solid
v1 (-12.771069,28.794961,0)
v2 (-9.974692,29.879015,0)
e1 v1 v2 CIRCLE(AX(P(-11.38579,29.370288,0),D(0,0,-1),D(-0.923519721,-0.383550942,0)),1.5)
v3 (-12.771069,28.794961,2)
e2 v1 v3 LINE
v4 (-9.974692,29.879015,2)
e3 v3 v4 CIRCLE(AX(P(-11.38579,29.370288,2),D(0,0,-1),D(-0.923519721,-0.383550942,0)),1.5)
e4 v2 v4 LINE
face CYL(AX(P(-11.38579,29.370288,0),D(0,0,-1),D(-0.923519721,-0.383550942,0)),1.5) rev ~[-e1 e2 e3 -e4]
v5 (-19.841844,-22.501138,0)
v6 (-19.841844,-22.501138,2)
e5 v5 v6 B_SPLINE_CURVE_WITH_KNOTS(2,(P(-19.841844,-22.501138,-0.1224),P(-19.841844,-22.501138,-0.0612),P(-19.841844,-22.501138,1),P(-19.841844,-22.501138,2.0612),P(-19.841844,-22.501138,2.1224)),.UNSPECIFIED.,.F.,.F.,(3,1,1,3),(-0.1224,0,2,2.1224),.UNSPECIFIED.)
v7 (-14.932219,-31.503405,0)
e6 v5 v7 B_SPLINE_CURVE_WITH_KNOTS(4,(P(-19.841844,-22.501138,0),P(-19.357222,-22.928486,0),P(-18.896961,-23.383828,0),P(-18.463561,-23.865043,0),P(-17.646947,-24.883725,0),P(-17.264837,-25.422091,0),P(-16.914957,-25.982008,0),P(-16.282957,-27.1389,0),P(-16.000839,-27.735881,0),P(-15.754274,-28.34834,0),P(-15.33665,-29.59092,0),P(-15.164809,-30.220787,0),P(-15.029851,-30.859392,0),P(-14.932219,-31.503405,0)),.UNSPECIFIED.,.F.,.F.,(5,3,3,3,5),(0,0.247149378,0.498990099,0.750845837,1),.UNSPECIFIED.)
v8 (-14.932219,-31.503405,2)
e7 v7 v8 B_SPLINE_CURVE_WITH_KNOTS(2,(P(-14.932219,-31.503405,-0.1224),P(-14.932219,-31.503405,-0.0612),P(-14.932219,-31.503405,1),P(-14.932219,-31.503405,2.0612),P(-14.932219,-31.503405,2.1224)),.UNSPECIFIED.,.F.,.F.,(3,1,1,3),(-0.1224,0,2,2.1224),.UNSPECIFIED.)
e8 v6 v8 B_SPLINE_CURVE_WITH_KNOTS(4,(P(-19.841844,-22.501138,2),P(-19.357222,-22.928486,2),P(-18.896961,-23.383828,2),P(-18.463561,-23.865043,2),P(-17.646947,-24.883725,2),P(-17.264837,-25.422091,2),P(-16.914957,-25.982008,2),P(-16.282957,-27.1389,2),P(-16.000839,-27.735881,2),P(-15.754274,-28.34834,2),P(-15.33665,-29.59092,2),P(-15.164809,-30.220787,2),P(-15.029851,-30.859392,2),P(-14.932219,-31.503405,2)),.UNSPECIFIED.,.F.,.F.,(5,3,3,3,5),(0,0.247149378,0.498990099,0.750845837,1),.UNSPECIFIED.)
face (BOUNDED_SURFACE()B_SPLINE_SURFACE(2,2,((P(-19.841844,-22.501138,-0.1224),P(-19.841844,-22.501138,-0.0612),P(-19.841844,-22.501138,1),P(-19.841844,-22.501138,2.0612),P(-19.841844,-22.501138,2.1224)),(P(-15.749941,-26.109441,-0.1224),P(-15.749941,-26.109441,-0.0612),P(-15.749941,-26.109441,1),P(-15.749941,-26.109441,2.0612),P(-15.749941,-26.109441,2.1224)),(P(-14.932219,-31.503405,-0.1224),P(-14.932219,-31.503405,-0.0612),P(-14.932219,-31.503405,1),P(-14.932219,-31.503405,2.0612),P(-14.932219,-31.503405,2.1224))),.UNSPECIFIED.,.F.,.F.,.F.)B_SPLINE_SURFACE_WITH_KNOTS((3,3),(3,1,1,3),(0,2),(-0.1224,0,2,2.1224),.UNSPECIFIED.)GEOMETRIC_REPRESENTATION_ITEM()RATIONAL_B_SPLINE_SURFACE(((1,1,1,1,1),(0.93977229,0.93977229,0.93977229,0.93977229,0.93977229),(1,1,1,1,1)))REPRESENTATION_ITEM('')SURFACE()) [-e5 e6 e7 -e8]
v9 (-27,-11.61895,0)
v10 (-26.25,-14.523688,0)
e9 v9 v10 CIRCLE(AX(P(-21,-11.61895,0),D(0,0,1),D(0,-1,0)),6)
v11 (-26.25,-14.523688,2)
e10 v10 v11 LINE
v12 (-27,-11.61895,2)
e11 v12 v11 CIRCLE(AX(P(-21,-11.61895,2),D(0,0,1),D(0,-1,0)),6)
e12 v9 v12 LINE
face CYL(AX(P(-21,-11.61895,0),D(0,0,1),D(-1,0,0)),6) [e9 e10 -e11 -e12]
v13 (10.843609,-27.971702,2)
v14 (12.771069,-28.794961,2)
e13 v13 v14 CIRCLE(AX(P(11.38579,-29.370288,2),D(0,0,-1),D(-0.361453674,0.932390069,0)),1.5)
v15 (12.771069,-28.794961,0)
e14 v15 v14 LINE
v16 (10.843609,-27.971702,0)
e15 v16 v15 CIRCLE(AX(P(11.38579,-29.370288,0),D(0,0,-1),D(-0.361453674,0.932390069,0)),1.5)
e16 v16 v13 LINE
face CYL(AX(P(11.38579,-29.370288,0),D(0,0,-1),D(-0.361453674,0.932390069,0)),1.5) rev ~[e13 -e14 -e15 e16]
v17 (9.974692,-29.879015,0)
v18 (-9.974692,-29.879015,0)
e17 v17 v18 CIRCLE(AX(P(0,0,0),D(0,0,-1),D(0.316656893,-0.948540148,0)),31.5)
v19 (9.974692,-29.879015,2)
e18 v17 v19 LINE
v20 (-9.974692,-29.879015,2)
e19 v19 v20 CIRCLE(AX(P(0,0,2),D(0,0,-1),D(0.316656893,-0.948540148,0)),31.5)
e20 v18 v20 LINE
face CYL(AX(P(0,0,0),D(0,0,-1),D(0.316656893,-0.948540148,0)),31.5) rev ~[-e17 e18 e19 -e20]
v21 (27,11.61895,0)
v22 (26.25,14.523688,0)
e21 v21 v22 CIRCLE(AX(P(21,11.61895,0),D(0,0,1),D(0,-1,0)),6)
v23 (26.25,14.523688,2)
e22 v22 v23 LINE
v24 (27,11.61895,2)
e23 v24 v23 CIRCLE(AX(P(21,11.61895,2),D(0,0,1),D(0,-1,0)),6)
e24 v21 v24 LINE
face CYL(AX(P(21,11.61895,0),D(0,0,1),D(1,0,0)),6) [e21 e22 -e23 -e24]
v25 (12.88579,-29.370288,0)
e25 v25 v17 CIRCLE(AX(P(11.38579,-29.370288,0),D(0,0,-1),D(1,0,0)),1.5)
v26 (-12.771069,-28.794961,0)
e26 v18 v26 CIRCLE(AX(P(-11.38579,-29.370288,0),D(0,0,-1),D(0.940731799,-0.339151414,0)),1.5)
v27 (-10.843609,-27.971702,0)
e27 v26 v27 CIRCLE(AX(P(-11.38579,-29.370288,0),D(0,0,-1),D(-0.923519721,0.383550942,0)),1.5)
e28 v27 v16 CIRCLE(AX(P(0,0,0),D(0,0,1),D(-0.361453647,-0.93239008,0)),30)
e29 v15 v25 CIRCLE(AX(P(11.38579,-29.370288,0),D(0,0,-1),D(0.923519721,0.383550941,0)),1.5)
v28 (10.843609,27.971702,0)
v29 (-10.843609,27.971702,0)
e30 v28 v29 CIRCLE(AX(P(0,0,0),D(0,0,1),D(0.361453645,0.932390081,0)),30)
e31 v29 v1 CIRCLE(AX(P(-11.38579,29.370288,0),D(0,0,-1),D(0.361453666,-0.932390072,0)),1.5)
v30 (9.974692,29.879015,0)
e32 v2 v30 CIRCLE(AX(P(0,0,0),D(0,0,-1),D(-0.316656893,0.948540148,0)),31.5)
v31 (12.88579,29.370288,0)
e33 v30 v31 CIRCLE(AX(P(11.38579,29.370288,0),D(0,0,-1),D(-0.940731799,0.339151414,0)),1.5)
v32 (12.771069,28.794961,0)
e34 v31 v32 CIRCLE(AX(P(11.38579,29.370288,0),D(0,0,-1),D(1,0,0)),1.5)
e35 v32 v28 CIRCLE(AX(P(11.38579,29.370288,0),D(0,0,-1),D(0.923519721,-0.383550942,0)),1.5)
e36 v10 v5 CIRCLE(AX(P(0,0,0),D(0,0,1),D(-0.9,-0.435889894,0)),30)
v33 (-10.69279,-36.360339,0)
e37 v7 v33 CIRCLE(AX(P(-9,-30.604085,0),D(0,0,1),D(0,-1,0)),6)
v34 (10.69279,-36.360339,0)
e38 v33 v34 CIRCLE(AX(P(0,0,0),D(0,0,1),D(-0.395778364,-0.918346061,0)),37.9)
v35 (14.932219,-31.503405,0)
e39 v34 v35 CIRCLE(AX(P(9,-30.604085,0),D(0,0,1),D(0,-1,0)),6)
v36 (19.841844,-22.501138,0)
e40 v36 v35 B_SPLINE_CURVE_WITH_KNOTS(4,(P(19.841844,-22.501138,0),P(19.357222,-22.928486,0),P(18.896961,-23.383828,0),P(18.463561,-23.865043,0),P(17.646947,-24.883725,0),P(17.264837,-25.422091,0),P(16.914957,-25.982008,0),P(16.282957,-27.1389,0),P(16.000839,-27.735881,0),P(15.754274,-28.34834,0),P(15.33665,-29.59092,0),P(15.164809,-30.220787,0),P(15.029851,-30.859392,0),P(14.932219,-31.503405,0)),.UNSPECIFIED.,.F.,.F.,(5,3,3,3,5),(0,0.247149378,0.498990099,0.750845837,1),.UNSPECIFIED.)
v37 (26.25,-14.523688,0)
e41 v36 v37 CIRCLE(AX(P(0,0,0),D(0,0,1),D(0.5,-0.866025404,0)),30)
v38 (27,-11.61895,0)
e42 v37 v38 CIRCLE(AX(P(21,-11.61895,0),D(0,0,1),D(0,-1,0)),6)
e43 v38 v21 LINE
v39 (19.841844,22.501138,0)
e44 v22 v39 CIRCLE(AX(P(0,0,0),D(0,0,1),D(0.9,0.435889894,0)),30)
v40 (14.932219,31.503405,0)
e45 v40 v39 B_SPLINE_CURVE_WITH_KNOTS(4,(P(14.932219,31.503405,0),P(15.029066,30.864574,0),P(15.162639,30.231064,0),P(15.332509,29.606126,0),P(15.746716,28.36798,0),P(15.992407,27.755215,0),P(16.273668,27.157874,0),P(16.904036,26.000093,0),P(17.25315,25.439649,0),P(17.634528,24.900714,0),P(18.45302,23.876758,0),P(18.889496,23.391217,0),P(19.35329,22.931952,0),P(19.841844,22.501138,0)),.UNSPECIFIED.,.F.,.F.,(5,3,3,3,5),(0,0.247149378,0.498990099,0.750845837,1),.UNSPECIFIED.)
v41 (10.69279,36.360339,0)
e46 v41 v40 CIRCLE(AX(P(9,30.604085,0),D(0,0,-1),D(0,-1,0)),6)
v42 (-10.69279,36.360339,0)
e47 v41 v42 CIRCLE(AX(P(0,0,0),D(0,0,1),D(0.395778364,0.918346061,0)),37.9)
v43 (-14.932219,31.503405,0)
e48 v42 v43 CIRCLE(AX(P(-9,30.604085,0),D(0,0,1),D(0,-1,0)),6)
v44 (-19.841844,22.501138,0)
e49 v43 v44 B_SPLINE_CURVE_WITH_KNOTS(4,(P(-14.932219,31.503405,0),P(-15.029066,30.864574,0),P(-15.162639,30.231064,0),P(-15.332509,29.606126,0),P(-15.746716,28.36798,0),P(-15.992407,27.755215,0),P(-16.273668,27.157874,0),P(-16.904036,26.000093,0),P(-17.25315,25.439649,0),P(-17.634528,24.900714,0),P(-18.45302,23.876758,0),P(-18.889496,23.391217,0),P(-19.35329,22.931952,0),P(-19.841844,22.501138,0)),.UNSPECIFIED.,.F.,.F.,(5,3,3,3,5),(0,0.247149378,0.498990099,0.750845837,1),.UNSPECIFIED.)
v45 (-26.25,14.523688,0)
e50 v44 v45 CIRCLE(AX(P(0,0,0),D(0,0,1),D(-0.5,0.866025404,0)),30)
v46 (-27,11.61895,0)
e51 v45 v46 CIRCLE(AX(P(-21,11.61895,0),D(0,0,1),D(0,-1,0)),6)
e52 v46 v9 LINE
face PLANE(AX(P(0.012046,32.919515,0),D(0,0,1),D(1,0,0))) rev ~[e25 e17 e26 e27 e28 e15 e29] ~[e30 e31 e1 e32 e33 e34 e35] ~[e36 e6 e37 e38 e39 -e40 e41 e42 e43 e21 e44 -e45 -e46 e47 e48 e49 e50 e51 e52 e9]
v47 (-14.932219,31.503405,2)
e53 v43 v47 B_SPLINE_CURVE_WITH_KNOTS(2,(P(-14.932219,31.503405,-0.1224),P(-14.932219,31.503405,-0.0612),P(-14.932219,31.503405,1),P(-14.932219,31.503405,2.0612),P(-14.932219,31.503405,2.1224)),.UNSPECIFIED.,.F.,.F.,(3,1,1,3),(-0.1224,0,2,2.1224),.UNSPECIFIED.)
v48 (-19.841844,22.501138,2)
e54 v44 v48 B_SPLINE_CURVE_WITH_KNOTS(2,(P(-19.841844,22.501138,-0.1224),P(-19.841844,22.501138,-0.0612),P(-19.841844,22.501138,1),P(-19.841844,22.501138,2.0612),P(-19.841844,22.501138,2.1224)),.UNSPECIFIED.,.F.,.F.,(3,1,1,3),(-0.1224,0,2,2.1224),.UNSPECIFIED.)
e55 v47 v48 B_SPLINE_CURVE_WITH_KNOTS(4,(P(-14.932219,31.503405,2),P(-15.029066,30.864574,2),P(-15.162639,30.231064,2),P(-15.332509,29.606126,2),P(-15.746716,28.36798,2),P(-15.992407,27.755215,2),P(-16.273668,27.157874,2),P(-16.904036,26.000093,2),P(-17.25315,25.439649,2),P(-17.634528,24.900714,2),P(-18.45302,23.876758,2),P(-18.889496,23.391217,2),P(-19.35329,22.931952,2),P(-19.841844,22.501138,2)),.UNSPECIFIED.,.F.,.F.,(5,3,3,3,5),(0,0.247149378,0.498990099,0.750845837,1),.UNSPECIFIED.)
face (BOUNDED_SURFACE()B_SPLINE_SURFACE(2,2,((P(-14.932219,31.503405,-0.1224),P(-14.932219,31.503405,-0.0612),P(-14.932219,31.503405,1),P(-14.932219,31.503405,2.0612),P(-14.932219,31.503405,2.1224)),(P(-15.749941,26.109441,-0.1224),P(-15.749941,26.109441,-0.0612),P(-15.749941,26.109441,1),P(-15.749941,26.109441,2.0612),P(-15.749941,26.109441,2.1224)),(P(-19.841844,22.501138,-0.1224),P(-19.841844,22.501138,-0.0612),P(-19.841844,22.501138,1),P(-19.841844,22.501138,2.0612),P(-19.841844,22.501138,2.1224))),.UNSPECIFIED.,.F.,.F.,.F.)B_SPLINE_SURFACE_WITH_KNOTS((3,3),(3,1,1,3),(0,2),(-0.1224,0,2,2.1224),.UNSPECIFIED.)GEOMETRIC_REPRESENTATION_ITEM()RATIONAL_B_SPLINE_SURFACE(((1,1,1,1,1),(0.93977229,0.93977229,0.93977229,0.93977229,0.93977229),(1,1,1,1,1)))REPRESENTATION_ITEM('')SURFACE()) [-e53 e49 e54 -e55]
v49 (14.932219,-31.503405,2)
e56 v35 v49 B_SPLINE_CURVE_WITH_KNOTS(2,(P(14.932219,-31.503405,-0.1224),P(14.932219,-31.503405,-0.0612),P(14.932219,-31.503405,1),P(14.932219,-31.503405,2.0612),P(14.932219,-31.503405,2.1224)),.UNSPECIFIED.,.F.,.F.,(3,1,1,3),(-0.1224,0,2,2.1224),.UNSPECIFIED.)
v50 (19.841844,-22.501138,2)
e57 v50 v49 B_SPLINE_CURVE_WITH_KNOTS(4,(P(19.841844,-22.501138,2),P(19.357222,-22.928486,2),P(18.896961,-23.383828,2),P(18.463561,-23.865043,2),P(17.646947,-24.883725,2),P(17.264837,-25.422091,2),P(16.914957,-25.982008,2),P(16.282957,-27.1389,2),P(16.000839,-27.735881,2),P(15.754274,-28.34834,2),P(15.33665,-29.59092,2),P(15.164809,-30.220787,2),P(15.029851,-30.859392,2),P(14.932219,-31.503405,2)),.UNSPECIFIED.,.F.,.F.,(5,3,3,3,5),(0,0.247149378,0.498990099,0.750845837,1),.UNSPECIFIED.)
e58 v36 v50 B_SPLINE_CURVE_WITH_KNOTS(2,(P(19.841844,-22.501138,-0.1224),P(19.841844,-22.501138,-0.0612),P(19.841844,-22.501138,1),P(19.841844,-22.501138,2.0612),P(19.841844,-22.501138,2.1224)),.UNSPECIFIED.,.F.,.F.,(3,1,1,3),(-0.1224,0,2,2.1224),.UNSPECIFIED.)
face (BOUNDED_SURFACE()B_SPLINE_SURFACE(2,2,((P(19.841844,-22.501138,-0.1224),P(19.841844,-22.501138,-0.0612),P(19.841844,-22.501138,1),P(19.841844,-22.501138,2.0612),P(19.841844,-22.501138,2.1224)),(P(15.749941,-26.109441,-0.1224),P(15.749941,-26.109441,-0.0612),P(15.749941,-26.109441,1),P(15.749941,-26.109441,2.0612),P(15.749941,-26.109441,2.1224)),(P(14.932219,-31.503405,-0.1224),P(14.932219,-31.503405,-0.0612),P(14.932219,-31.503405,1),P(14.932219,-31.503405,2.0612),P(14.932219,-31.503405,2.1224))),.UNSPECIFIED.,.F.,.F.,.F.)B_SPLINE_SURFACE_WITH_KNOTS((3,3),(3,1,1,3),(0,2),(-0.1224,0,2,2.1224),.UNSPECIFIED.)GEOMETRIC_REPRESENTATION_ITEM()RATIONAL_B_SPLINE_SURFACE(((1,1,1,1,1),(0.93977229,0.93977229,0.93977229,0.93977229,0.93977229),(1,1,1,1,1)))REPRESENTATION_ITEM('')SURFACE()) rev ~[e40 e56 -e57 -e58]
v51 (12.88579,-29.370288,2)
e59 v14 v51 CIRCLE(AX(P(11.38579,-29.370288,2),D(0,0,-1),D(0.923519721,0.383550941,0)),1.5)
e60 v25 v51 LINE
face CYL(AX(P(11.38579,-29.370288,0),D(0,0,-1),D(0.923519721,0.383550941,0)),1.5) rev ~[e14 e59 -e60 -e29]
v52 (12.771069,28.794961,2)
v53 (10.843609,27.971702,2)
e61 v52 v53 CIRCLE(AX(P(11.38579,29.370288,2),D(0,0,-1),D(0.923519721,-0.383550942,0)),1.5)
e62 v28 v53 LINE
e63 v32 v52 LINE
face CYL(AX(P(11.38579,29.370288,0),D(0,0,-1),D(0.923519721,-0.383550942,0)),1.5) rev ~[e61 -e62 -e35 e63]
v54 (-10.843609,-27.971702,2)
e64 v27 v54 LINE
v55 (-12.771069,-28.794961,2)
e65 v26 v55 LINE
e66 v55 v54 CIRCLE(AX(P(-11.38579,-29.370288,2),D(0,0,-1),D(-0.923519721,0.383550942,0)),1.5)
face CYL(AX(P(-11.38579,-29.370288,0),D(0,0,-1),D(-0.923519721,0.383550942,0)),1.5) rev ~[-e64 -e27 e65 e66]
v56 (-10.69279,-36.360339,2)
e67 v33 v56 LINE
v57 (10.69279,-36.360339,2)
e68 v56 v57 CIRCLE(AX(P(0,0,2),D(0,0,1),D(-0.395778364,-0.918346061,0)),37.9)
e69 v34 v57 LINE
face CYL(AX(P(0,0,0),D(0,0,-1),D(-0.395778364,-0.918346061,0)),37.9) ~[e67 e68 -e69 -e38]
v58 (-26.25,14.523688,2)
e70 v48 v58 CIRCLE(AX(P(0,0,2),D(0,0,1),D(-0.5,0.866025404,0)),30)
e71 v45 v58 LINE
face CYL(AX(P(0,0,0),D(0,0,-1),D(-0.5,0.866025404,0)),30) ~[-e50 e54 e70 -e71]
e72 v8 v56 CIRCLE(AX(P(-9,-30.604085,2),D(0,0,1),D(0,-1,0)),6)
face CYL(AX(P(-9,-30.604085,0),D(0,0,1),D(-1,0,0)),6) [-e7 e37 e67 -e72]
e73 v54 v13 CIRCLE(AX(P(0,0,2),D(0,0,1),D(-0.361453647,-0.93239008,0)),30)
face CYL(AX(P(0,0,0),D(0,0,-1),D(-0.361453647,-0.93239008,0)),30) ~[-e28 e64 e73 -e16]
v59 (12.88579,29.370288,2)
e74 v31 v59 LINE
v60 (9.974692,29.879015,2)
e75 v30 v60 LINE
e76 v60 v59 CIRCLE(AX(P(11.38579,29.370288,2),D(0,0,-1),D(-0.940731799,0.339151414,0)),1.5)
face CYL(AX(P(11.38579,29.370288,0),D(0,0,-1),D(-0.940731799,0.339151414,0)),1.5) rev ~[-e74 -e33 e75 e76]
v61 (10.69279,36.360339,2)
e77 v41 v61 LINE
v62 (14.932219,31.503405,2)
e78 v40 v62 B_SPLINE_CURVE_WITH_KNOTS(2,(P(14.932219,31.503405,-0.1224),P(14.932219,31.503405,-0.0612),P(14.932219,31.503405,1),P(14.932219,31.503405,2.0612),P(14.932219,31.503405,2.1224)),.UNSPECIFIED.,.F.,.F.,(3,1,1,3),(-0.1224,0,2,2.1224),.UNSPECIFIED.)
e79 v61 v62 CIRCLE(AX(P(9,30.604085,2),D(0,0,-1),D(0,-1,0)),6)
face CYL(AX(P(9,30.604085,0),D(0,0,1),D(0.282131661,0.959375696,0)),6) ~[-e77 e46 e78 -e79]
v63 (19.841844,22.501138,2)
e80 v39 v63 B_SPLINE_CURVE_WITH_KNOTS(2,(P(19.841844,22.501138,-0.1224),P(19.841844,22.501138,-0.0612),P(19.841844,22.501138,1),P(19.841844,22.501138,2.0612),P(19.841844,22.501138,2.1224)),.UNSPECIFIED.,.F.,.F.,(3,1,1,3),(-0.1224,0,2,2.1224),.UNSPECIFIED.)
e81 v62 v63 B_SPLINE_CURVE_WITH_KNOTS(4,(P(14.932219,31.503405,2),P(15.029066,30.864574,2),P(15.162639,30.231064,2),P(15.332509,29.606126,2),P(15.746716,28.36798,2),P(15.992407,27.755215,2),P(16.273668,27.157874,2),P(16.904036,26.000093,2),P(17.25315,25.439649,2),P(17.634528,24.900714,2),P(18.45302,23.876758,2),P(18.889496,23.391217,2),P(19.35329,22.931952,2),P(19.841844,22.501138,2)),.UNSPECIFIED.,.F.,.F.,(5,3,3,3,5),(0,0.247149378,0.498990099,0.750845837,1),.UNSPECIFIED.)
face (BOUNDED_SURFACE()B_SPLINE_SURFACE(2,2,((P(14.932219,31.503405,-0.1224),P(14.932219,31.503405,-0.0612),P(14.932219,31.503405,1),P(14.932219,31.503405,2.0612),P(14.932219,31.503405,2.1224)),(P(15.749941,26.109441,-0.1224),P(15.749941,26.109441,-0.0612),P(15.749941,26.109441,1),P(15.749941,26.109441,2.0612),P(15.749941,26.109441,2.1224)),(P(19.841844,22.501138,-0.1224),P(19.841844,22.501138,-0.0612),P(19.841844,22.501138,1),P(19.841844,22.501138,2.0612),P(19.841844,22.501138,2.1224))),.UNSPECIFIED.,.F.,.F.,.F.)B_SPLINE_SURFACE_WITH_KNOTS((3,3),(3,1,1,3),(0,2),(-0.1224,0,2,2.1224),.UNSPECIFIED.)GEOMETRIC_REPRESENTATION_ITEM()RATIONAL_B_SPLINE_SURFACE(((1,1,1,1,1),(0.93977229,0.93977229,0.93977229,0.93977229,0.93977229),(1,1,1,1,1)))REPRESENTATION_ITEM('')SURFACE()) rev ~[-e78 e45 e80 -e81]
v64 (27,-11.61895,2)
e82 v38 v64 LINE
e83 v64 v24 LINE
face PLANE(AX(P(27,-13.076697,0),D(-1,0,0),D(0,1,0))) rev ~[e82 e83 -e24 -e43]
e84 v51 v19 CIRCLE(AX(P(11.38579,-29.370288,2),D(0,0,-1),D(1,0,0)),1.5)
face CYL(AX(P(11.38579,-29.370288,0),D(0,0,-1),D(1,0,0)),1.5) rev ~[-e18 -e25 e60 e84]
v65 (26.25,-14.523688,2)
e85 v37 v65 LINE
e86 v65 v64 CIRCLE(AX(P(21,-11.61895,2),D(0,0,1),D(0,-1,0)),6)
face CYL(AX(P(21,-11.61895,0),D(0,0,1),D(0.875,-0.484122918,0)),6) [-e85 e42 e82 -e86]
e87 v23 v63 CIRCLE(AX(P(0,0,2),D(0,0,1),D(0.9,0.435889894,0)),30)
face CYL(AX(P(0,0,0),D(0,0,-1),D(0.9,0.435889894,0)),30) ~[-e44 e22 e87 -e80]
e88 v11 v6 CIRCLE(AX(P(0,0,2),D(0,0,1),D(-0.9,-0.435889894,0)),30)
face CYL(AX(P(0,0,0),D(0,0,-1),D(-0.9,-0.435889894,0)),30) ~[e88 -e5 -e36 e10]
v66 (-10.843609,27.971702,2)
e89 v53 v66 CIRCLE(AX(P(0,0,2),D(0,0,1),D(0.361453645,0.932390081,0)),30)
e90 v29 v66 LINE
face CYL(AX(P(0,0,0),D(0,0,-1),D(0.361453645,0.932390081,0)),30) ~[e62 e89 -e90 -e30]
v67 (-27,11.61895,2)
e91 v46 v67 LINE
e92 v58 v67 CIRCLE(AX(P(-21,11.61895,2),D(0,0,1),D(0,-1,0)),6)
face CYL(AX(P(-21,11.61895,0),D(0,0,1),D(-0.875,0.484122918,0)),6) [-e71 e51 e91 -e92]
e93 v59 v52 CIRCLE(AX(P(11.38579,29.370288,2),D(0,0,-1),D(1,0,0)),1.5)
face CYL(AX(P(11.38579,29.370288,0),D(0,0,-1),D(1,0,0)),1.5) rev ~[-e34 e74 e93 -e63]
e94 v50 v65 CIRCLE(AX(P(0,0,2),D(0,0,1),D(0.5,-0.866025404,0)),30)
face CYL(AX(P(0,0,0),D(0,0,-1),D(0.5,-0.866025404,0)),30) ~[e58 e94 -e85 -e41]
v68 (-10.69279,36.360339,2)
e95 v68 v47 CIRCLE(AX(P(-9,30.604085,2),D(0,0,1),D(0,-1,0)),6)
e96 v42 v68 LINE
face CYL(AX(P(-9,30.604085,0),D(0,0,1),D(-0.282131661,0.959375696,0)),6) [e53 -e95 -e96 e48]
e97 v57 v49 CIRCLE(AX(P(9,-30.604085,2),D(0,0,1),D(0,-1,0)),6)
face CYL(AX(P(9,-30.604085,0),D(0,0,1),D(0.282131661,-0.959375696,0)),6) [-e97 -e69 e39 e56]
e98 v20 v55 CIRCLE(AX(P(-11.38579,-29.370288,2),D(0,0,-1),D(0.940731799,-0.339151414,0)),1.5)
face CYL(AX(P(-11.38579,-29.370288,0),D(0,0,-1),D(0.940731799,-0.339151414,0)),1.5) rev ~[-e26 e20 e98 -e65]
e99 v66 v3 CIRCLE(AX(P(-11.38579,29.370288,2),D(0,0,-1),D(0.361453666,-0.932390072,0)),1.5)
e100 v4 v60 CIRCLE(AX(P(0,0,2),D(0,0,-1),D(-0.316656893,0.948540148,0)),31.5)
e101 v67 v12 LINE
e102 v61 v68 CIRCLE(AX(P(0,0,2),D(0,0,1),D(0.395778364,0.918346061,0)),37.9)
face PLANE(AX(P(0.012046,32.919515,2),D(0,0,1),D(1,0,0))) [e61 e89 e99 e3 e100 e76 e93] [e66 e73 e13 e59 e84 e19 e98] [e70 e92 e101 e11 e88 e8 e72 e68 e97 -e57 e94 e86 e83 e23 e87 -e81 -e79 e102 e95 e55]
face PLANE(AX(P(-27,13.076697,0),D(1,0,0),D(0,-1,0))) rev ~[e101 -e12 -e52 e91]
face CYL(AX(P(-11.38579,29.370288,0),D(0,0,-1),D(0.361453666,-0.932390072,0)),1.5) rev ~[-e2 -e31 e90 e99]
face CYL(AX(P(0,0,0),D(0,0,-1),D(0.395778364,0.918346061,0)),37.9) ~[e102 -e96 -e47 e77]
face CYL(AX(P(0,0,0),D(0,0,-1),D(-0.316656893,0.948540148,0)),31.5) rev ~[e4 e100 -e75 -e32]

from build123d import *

# Parameters (mm, degrees)
F1_DEPTH = 2
F2_R     = 6
F3_R     = 15


with BuildPart() as f1:
    # F0 (on Top) → F1 (new body)
    with BuildSketch(Plane.XY):
        with BuildLine():
            Line((15, 27.6992779689), (15, 34.8053157432))
            ThreePointArc((15, 34.8053157432), (0, 37.9000000526), (-15, 34.8053157432))
            Line((-15, 34.8053157432), (-15, 27.6992779689))
            ThreePointArc((-15, 27.6992779689), (-13.8963378037, 28.2690961236), (-12.771069404, 28.7949611265))
            ThreePointArc((-12.771069404, 28.7949611265), (-11.9279702901, 30.7688726599), (-9.9746921233, 29.8790146599))
            ThreePointArc((-9.9746921233, 29.8790146599), (0, 31.5), (9.9746921233, 29.8790146599))
            ThreePointArc((9.9746921233, 29.8790146599), (11.6440081906, 30.8478948191), (12.8857898224, 29.370287539))
            ThreePointArc((12.8857898224, 29.370287539), (12.8568301638, 29.0769612466), (12.771069404, 28.7949611265))
            ThreePointArc((12.771069404, 28.7949611265), (13.8963378037, 28.2690961236), (15, 27.6992779689))
        make_face()
        with BuildLine():
            ThreePointArc((-12.771069404, 28.7949611265), (-13.8963378037, 28.2690961236), (-15, 27.6992779689))
            Line((-15, 27.6992779689), (-15, 25.9807621135))
            ThreePointArc((-15, 25.9807621135), (-12.9600924591, 27.0561638717), (-10.8436093232, 27.9717024302))
            ThreePointArc((-10.8436093232, 27.9717024302), (-11.9749780232, 27.9908466145), (-12.771069404, 28.7949611265))
        make_face()
        with BuildLine():
            Line((15, 25.9807621135), (15, 27.6992779689))
            ThreePointArc((15, 27.6992779689), (13.8963378037, 28.2690961236), (12.771069404, 28.7949611265))
            ThreePointArc((12.771069404, 28.7949611265), (11.9749780416, 27.9908466224), (10.8436093607, 27.9717024157))
            ThreePointArc((10.8436093607, 27.9717024157), (12.9600924772, 27.056163863), (15, 25.9807621135))
        make_face()
        with BuildLine():
            Line((-15, -27.6992779689), (-15, -34.8053157432))
            ThreePointArc((-15, -34.8053157432), (0, -37.9000000526), (15, -34.8053157432))
            Line((15, -34.8053157432), (15, -27.6992779689))
            ThreePointArc((15, -27.6992779689), (13.8963378037, -28.2690961236), (12.771069404, -28.7949611265))
            ThreePointArc((12.771069404, -28.7949611265), (12.8568301638, -29.0769612466), (12.8857898224, -29.370287539))
            ThreePointArc((12.8857898224, -29.370287539), (11.6440081906, -30.8478948191), (9.9746921233, -29.8790146599))
            ThreePointArc((9.9746921233, -29.8790146599), (0, -31.5), (-9.9746921233, -29.8790146599))
            ThreePointArc((-9.9746921233, -29.8790146599), (-11.9279702901, -30.7688726599), (-12.771069404, -28.7949611265))
            ThreePointArc((-12.771069404, -28.7949611265), (-13.8963378037, -28.2690961236), (-15, -27.6992779689))
        make_face()
        with BuildLine():
            Line((-15, -25.9807621135), (-15, -27.6992779689))
            ThreePointArc((-15, -27.6992779689), (-13.8963378037, -28.2690961236), (-12.771069404, -28.7949611265))
            ThreePointArc((-12.771069404, -28.7949611265), (-11.9749780659, -27.9908466327), (-10.8436094098, -27.9717023967))
            ThreePointArc((-10.8436094098, -27.9717023967), (-12.960092501, -27.0561638516), (-15, -25.9807621135))
        make_face()
        with BuildLine():
            ThreePointArc((12.771069404, -28.7949611265), (13.8963378037, -28.2690961236), (15, -27.6992779689))
            Line((15, -27.6992779689), (15, -25.9807621135))
            ThreePointArc((15, -25.9807621135), (12.9600924534, -27.0561638744), (10.8436093114, -27.9717024348))
            ThreePointArc((10.8436093114, -27.9717024348), (11.9749780173, -27.990846612), (12.771069404, -28.7949611265))
        make_face()
        with BuildLine():
            ThreePointArc((27, 13.0766968306), (21.968812558, 20.4296665365), (15, 25.9807621135))
            ThreePointArc((15, 25.9807621135), (12.9600924772, 27.056163863), (10.8436093607, 27.9717024157))
            ThreePointArc((10.8436093607, 27.9717024157), (2.01e-08, 30), (-10.8436093232, 27.9717024302))
            ThreePointArc((-10.8436093232, 27.9717024302), (-12.9600924591, 27.0561638717), (-15, 25.9807621135))
            ThreePointArc((-15, 25.9807621135), (-21.968812558, 20.4296665365), (-27, 13.0766968306))
            Line((-27, 13.0766968306), (-27, -13.0766968306))
            ThreePointArc((-27, -13.0766968306), (-21.968812558, -20.4296665365), (-15, -25.9807621135))
            ThreePointArc((-15, -25.9807621135), (-12.960092501, -27.0561638516), (-10.8436094098, -27.9717023967))
            ThreePointArc((-10.8436094098, -27.9717023967), (-5.28e-08, -30), (10.8436093114, -27.9717024348))
            ThreePointArc((10.8436093114, -27.9717024348), (12.9600924534, -27.0561638744), (15, -25.9807621135))
            ThreePointArc((15, -25.9807621135), (21.968812558, -20.4296665365), (27, -13.0766968306))
            Line((27, -13.0766968306), (27, 13.0766968306))
        make_face()
    extrude(amount=F1_DEPTH)

    # F2
    f2_edges = [f1.edges().sort_by_distance(p)[0] for p in [
        (-15, -34.805316, 1),
        (15, -34.805316, 1),
        (15, 34.805316, 1),
        (-15, 34.805316, 1),
        (27, 13.076697, 1),
        (27, -13.076697, 1),
        (-27, 13.076697, 1),
        (-27, -13.076697, 1),
    ]]
    fillet(f2_edges, radius=F2_R)

    # F3
    f3_edges = [f1.edges().sort_by_distance(p)[0] for p in [
        (-15, -25.980762, 1),
        (15, -25.980762, 1),
        (15, 25.980762, 1),
        (-15, 25.980762, 1),
    ]]
    fillet(f3_edges, radius=F3_R)


solid = f1.part
